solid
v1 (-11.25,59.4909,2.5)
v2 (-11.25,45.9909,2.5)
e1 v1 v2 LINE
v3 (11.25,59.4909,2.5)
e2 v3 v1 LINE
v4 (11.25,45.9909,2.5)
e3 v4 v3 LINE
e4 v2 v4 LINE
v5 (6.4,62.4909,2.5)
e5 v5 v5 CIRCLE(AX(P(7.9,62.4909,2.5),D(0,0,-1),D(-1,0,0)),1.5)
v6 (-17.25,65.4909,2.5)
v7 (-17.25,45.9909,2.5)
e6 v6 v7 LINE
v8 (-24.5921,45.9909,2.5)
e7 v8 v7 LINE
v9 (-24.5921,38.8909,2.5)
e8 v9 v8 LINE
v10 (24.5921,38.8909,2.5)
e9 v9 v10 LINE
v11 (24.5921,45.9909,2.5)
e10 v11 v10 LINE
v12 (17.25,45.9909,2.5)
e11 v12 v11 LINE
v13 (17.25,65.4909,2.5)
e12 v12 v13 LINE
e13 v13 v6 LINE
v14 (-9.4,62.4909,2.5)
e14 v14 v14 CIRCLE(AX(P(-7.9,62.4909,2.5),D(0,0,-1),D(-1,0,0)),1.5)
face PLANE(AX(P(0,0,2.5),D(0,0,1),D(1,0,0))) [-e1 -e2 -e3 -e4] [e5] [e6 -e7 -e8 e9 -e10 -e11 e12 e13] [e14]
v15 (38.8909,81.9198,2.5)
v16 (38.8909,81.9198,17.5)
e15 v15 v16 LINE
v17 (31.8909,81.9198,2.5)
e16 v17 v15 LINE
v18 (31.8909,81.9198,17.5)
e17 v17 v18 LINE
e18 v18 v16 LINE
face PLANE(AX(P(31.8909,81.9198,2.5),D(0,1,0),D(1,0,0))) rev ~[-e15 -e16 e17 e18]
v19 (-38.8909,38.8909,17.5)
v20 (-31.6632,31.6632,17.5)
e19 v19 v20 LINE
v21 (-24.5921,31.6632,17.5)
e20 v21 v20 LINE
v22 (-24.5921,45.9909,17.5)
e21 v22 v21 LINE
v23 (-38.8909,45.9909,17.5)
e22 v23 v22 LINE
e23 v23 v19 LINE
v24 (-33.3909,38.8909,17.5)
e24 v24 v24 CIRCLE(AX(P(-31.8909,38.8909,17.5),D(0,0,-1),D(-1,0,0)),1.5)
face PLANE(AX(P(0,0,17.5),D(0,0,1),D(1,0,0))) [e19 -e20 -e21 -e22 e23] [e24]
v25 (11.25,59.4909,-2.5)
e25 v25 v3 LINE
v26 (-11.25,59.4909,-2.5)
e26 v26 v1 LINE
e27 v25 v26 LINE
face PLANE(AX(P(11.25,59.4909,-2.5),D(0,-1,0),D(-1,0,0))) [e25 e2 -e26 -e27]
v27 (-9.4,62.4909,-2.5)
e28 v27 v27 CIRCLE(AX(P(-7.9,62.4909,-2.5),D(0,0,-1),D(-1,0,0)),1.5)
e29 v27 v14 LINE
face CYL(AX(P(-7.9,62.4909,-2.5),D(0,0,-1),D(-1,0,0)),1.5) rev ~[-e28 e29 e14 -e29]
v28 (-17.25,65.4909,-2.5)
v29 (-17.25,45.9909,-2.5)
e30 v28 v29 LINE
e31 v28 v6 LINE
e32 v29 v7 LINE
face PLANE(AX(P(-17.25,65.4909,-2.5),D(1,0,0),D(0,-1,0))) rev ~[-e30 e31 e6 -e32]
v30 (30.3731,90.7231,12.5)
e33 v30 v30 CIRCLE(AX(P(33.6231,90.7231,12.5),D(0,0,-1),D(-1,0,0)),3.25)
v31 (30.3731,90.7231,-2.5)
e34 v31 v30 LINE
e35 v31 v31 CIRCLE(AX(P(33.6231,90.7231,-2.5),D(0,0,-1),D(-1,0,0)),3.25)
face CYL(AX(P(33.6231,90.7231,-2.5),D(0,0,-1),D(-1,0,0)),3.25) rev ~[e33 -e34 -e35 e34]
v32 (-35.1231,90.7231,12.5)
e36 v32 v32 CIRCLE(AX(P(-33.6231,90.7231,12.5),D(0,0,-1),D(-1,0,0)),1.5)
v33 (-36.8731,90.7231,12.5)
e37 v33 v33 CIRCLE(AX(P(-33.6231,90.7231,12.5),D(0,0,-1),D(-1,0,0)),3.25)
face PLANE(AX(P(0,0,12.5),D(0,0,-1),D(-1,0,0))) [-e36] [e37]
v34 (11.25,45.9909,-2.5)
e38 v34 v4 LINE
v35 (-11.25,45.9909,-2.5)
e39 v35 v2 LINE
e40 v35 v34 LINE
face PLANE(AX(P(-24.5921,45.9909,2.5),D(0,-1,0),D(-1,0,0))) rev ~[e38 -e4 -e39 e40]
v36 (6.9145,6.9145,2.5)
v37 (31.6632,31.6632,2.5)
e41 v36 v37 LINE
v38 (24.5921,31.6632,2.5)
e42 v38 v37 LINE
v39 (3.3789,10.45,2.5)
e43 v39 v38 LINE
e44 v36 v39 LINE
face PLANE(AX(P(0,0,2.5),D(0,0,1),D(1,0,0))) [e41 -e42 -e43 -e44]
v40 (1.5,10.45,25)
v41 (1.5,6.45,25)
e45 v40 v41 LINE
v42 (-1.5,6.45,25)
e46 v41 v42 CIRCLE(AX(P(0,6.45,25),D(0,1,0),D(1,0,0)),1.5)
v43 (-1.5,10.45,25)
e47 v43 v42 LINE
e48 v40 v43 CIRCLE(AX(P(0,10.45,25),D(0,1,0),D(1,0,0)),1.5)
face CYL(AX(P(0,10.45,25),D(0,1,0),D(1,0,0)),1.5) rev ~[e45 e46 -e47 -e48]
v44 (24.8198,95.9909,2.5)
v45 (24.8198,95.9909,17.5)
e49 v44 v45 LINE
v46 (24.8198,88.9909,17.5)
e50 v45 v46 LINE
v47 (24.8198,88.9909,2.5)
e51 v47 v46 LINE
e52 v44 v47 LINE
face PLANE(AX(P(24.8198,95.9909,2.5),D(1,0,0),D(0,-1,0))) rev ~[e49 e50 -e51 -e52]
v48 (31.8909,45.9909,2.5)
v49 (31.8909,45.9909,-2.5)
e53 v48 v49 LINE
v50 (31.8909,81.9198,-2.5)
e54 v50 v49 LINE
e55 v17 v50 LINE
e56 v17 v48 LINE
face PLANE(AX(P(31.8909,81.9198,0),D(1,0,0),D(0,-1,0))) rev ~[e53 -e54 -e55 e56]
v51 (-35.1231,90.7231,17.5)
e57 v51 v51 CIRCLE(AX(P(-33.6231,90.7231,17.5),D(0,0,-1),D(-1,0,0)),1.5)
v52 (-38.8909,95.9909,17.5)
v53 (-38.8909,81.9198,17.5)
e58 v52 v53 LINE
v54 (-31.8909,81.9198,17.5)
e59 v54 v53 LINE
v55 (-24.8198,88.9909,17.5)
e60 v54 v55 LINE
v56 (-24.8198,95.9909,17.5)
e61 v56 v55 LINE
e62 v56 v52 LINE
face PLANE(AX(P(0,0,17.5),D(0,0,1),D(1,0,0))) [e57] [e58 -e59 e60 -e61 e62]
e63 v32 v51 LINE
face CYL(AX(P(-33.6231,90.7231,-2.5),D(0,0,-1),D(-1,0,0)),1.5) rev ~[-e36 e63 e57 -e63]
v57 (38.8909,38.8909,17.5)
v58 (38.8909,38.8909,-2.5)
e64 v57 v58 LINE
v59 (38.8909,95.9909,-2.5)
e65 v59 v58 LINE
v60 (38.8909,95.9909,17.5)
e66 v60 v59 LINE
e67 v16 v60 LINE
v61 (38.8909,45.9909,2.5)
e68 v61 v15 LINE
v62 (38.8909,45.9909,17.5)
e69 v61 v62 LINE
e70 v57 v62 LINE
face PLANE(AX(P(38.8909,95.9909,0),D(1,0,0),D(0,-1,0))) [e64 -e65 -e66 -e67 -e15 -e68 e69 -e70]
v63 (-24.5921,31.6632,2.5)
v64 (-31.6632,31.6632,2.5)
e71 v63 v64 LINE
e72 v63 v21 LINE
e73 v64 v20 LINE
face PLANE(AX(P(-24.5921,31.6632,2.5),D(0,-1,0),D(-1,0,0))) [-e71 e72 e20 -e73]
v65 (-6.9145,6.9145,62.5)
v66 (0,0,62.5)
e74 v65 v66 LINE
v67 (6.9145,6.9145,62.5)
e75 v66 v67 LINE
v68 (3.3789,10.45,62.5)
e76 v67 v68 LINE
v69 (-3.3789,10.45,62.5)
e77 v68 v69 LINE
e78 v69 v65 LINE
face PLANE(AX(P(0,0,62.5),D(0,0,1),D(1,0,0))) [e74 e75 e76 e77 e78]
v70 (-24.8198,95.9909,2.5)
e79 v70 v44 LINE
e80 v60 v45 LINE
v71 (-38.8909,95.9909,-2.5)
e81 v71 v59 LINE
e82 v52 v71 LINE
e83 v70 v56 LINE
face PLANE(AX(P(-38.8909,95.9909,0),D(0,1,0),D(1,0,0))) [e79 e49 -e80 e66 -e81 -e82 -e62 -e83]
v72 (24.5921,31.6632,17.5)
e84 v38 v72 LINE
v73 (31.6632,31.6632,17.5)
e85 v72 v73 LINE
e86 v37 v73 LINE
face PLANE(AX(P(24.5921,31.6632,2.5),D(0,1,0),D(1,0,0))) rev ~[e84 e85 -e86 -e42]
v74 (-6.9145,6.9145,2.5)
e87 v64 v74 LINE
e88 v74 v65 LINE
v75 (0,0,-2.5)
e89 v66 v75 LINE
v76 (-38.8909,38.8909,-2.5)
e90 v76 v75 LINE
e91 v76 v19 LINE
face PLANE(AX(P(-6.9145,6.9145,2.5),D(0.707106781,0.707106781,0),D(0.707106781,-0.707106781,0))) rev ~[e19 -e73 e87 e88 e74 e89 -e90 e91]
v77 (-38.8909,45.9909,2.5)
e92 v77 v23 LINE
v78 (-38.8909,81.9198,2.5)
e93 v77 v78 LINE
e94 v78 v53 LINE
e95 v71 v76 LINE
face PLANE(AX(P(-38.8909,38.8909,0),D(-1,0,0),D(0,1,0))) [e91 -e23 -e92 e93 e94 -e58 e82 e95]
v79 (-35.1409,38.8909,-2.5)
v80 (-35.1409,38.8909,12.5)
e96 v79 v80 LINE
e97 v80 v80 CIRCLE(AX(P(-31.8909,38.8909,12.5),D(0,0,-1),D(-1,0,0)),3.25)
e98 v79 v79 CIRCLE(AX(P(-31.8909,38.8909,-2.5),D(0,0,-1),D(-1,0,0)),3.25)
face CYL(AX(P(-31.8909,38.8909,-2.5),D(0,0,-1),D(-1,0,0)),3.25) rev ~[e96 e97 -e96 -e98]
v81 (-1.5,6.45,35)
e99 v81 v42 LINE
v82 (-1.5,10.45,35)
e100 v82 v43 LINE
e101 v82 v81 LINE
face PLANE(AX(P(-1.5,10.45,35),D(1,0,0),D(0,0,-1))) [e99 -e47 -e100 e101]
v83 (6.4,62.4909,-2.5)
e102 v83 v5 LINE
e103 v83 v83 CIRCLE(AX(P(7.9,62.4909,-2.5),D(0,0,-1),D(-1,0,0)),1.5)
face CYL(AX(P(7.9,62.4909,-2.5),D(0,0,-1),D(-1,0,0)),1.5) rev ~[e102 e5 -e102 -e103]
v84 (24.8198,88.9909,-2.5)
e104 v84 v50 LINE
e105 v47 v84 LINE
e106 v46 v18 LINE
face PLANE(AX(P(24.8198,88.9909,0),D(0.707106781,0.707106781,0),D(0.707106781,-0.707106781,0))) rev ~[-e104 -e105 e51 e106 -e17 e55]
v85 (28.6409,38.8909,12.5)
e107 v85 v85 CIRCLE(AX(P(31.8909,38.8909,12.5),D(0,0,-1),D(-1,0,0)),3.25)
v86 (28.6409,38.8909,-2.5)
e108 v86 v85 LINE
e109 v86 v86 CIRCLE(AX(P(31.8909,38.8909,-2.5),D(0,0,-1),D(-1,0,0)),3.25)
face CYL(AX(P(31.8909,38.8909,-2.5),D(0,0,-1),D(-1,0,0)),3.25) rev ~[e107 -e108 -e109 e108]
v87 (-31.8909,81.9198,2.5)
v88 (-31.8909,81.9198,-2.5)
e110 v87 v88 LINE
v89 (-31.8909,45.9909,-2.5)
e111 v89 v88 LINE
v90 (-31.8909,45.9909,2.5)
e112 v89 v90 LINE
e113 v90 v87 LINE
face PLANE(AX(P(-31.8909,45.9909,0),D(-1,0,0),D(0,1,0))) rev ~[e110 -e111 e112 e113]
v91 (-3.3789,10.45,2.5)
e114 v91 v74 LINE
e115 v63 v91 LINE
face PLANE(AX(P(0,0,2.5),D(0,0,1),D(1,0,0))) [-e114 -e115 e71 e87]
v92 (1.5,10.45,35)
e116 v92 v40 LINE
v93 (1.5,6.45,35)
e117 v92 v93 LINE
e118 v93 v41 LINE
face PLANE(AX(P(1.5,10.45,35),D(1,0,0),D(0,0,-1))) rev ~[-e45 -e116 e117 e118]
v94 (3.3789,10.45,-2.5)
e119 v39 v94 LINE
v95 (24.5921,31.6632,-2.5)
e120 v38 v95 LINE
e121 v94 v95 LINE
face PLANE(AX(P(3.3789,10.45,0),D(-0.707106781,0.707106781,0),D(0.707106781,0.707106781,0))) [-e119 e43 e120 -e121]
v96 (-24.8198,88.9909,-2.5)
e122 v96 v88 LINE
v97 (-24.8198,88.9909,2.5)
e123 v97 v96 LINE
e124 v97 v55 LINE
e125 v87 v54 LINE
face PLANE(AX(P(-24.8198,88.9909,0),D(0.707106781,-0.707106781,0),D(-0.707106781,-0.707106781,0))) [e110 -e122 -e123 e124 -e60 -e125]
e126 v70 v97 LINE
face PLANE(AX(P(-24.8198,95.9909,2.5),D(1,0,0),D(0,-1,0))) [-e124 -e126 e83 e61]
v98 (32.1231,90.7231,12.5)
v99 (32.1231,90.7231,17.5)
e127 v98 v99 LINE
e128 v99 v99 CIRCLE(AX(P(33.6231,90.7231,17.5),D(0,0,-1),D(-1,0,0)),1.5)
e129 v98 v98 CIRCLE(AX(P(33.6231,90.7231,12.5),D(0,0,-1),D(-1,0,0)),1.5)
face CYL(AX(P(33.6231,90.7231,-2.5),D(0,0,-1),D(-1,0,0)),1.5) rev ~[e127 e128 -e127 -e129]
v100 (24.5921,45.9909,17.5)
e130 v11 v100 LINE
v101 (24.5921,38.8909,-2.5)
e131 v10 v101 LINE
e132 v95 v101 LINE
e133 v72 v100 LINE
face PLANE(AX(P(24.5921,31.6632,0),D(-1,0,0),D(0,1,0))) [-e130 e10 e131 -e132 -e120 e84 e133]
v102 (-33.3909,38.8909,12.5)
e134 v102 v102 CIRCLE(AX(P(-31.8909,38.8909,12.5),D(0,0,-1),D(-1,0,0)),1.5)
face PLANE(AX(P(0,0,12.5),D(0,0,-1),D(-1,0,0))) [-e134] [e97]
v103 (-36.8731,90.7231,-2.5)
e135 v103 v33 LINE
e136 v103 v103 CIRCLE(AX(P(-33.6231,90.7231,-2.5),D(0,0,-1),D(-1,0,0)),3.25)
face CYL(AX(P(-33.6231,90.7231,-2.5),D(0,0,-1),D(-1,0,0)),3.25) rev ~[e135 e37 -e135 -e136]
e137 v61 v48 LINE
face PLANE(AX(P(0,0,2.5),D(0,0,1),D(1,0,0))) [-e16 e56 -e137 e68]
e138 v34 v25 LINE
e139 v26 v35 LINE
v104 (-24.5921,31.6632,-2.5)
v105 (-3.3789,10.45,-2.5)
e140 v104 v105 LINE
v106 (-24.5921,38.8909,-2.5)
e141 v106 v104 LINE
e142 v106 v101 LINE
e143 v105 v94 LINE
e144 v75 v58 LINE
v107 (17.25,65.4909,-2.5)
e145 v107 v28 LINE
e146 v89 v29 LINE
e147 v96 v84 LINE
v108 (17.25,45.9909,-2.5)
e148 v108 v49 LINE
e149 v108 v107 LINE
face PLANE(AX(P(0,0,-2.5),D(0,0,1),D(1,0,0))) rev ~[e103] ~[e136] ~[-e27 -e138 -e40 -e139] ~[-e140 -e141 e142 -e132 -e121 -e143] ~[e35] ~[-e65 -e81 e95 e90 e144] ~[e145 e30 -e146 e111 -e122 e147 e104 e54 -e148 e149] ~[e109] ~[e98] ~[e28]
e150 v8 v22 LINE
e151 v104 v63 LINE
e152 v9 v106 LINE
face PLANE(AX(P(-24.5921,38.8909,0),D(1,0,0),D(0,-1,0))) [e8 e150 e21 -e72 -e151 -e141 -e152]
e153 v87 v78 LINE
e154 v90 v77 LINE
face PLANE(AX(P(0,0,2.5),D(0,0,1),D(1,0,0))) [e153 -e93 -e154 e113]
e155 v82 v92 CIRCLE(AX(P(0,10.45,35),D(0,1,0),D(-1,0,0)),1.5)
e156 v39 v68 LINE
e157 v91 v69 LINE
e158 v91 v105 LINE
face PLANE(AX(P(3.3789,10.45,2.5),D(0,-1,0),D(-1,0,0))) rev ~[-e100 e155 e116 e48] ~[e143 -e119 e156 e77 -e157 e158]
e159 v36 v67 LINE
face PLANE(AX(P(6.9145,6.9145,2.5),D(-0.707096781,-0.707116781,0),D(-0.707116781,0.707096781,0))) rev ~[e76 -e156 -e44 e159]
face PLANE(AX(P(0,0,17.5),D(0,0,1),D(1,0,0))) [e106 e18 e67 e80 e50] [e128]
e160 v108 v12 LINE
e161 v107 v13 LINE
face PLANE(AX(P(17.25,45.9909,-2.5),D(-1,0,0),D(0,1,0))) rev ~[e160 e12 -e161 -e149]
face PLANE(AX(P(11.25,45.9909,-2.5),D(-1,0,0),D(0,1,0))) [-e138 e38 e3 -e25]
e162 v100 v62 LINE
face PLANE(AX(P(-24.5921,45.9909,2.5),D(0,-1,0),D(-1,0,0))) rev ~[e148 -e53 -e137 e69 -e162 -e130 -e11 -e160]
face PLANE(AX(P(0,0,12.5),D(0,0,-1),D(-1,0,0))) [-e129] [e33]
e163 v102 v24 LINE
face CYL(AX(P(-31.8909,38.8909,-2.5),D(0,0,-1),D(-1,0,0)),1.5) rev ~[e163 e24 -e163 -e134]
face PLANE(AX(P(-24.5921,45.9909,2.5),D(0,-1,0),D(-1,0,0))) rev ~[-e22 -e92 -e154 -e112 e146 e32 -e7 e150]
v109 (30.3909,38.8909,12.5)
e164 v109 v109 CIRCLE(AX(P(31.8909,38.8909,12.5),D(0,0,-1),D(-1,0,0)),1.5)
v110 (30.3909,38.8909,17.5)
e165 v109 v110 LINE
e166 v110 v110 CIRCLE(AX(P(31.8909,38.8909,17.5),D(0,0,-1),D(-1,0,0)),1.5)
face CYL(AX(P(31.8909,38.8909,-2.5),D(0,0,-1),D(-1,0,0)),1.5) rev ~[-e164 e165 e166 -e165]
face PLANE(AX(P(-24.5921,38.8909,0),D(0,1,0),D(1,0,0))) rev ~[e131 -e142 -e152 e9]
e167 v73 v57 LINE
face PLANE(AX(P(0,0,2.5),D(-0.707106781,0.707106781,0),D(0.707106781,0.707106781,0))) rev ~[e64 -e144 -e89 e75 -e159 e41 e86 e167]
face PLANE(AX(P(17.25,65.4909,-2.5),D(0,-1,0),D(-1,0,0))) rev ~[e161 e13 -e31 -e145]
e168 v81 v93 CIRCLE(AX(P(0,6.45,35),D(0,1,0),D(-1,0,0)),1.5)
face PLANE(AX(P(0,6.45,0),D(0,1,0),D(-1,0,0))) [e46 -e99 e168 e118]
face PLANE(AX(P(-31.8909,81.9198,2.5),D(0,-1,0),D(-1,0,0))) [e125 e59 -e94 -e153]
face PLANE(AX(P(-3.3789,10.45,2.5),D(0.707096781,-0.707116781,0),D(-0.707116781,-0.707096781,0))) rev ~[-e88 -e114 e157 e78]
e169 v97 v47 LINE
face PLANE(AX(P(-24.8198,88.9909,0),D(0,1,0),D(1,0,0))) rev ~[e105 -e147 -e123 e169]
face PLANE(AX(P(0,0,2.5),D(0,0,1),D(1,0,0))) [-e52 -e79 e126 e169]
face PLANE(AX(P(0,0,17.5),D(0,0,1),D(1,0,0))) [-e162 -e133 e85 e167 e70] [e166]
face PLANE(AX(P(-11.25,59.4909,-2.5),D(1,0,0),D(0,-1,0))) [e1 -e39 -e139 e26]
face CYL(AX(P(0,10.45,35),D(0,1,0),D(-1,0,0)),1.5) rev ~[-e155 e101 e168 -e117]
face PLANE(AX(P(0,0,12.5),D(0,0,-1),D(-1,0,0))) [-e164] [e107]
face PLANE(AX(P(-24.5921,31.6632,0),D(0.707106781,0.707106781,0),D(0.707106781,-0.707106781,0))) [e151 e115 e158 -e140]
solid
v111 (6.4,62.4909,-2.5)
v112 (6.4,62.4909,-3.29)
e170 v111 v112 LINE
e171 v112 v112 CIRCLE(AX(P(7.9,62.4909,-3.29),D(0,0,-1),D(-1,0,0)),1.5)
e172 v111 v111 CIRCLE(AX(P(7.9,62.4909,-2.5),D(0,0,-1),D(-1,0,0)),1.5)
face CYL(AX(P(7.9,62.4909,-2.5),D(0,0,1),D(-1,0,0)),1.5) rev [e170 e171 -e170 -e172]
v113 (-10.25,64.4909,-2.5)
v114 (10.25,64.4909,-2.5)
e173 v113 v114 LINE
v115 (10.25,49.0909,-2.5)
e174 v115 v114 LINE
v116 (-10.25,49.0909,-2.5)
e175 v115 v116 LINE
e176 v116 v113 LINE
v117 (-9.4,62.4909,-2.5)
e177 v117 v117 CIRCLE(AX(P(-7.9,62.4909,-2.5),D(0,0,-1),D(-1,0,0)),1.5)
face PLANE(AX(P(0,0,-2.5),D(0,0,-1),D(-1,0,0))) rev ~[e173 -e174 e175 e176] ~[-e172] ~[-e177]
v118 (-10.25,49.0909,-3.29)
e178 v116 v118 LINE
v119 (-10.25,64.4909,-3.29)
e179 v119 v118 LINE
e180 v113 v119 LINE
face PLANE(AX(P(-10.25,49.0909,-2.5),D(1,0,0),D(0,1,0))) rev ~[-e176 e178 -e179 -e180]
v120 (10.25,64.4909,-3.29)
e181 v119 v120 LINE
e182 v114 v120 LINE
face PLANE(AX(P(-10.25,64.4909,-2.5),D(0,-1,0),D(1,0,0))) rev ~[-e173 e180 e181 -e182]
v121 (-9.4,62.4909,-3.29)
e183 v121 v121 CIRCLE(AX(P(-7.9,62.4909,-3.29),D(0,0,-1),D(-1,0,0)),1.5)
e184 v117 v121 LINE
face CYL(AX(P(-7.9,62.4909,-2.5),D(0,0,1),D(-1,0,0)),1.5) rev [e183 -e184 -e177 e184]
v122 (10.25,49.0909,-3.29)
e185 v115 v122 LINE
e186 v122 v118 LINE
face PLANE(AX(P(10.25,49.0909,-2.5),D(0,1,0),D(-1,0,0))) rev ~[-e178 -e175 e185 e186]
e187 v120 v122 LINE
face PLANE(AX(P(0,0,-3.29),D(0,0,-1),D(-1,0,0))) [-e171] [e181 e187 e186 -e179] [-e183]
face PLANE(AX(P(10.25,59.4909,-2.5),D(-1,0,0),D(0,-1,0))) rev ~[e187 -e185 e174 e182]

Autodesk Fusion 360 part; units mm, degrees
sketch "スケッチ1" plane through (0, 0, 0) normal (0, 0, 1) x (1, 0, 0)
  line L0 (-38.8909, 38.8909) -> (0, 0)
  line L1 (0, 0) -> (38.8909, 38.8909)
  line L2 (38.8909, 38.8909) -> (-38.8909, 38.8909) construction
  line L3 (0, 38.8909) -> (0, 0) construction
  line L4 (-24.5921, 31.6632) -> (-3.3789, 10.45)
  line L5 (-3.3789, 10.45) -> (3.3789, 10.45)
  line L6 (3.3789, 10.45) -> (24.5921, 31.6632)
  line L7 (24.5921, 31.6632) -> (24.5921, 38.8909)
  line L8 (-24.5921, 38.8909) -> (-24.5921, 31.6632)
  line L9 (-24.5921, 38.8909) -> (24.5921, 38.8909)
  line L10 (-38.8909, 38.8909) -> (-38.8909, 45.9909)
  line L11 (-31.8909, 45.9909) -> (31.8909, 45.9909)
  line L12 (38.8909, 45.9909) -> (38.8909, 38.8909)
  line L13 (31.8909, 45.9909) -> (-31.8909, 45.9909)
  line L14 (-38.8909, 45.9909) -> (-38.8909, 95.9909)
  line L15 (-38.8909, 95.9909) -> (38.8909, 95.9909)
  line L16 (38.8909, 95.9909) -> (38.8909, 45.9909)
  line L17 (38.8909, 45.9909) -> (-38.8909, 95.9909) construction
  line L18 (-38.8909, 45.9909) -> (38.8909, 95.9909) construction
  line L19 (-31.8909, 45.9909) -> (-31.8909, 81.9198)
  line L20 (-24.8198, 88.9909) -> (24.8198, 88.9909)
  line L21 (31.8909, 81.9198) -> (31.8909, 45.9909)
  line L22 (-24.8198, 88.9909) -> (-31.8909, 81.9198)
  line L23 (24.8198, 88.9909) -> (31.8909, 81.9198)
  point P0 (0, 70.9909)
  point P1 (0, 70.9909)
  dimension "d1" = 55
  dimension "d3" = 55
  dimension "d4" = 5
  dimension "d5" = 5
  dimension "d6" = 30
  dimension "d7" = 30
  dimension "d8" = 10.45
  dimension "d9" = 7.1
  dimension "d10" = 50
  dimension "d11" = 7
  dimension "d13" = 45
  dimension "d14" = 45
  dimension "d15" = 10
  dimension "d16" = 10
  dimension "d17" = 7
  dimension "d18" = 7
  dimension "d19" = 57.1
  dimension "d20" = 7.1
extrude "押し出し1" add sketch "スケッチ1" along normal mid plane 5 makes body 1
sketch "スケッチ2" plane through (0, 0, 2.5) normal (0, 0, 1) x (1, 0, 0)
  line L0 (-31.8909, 81.9198) -> (-24.8198, 88.9909)
  line L1 (-24.8198, 88.9909) -> (24.8198, 88.9909)
  line L2 (24.8198, 88.9909) -> (31.8909, 81.9198)
  line L3 (31.8909, 81.9198) -> (31.8909, 45.9909)
  line L4 (31.8909, 45.9909) -> (-31.8909, 45.9909)
  line L5 (-31.8909, 45.9909) -> (-31.8909, 81.9198)
  line L6 (-3.3789, 10.45) -> (-24.5921, 31.6632)
  line L7 (-24.5921, 31.6632) -> (-24.5921, 38.8909)
  line L8 (-24.5921, 38.8909) -> (24.5921, 38.8909)
  line L9 (24.5921, 38.8909) -> (24.5921, 31.6632)
  line L10 (24.5921, 31.6632) -> (3.3789, 10.45)
  line L11 (3.3789, 10.45) -> (-3.3789, 10.45)
  line L12 (-38.8909, 38.8909) -> (0, 0)
  line L13 (0, 0) -> (38.8909, 38.8909)
  line L14 (38.8909, 38.8909) -> (38.8909, 95.9909)
  line L15 (38.8909, 95.9909) -> (-38.8909, 95.9909)
  line L16 (-38.8909, 95.9909) -> (-38.8909, 38.8909)
  line L17 (-24.8198, 95.9909) -> (-24.8198, 88.9909)
  line L18 (-24.8198, 88.9909) -> (-31.8909, 81.9198)
  line L19 (-31.8909, 81.9198) -> (-38.8909, 81.9198)
  line L20 (-38.8909, 81.9198) -> (-38.8909, 95.9909)
  line L21 (-38.8909, 95.9909) -> (-24.8198, 95.9909)
  line L22 (24.8198, 95.9909) -> (24.8198, 88.9909)
  line L23 (24.8198, 88.9909) -> (31.8909, 81.9198)
  line L24 (31.8909, 81.9198) -> (38.8909, 81.9198)
  line L25 (38.8909, 81.9198) -> (38.8909, 95.9909)
  line L26 (38.8909, 95.9909) -> (24.8198, 95.9909)
  line L27 (-24.5921, 45.9909) -> (-24.5921, 31.6632)
  line L28 (-24.5921, 31.6632) -> (-31.6632, 31.6632)
  line L29 (-31.6632, 31.6632) -> (-38.8909, 38.8909)
  line L30 (-38.8909, 38.8909) -> (-38.8909, 45.9909)
  line L31 (-38.8909, 45.9909) -> (-24.5921, 45.9909)
  line L32 (24.5921, 45.9909) -> (24.5921, 31.6632)
  line L33 (24.5921, 31.6632) -> (31.6632, 31.6632)
  line L34 (31.6632, 31.6632) -> (38.8909, 38.8909)
  line L35 (38.8909, 38.8909) -> (38.8909, 45.9909)
  line L36 (38.8909, 45.9909) -> (24.5921, 45.9909)
  line L37 (-3.3789, 10.45) -> (-6.9145, 6.9145)
  line L38 (-6.9145, 6.9145) -> (0, 0)
  line L39 (0, 0) -> (6.9145, 6.9145)
  line L40 (6.9145, 6.9145) -> (3.3789, 10.45)
  line L41 (3.3789, 10.45) -> (-3.3789, 10.45)
extrude "押し出し2" add sketch "スケッチ2" along normal blind 15 contours L0 L15 L16 L17 L18 L19 L20 L21 | L4 L7 L12 L16 L27 L28 L29 L30 L31 | L2 L14 L15 L22 L23 L24 L25 L26 | L4 L9 L13 L14 L32 L33 L34 L35 L36 bodies 1
extrude "押し出し3" add sketch "スケッチ2" along normal blind 60 contours L11 L12 L13 L37 L38 L39 L40 L41 bodies 1
sketch "スケッチ3" plane through (0, 0, -2.5) normal (0, 0, -1) x (-1, 0, 0)
  line L0 (24.8198, 88.9909) -> (31.8909, 81.9198)
  line L1 (31.8909, 81.9198) -> (31.8909, 45.9909)
  line L2 (31.8909, 45.9909) -> (-31.8909, 45.9909)
  line L3 (-31.8909, 45.9909) -> (-31.8909, 81.9198)
  line L4 (-31.8909, 81.9198) -> (-24.8198, 88.9909)
  line L5 (-24.8198, 88.9909) -> (24.8198, 88.9909)
  line L6 (24.5921, 31.6632) -> (3.3789, 10.45)
  line L7 (3.3789, 10.45) -> (-3.3789, 10.45)
  line L8 (-3.3789, 10.45) -> (-24.5921, 31.6632)
  line L9 (-24.5921, 31.6632) -> (-24.5921, 38.8909)
  line L10 (-24.5921, 38.8909) -> (24.5921, 38.8909)
  line L11 (24.5921, 38.8909) -> (24.5921, 31.6632)
  line L12 (0, 0) -> (38.8909, 38.8909)
  line L13 (38.8909, 38.8909) -> (38.8909, 95.9909)
  line L14 (38.8909, 95.9909) -> (-38.8909, 95.9909)
  line L15 (-38.8909, 95.9909) -> (-38.8909, 38.8909)
  line L16 (-38.8909, 38.8909) -> (0, 0)
  line L17 (-38.8909, 95.9909) -> (-28.3553, 85.4553) construction
  line L18 (38.8909, 95.9909) -> (28.3553, 85.4553) construction
  circle A0 centre (-33.6231, 90.7231) radius 3.25
  circle A1 centre (33.6231, 90.7231) radius 3.25
  circle A2 centre (-31.8909, 38.8909) radius 3.25
  circle A3 centre (31.8909, 38.8909) radius 3.25
  line L19 (-24.5921, 38.8909) -> (-38.8909, 38.8909) construction
  line L20 (-31.8909, 45.9909) -> (-31.8909, 31.8909) construction
  line L21 (24.5921, 38.8909) -> (38.8909, 38.8909) construction
  line L22 (31.8909, 45.9909) -> (31.8909, 31.8909) construction
  circle A4 centre (-31.8909, 38.8909) radius 1.5
  circle A5 centre (31.8909, 38.8909) radius 1.5
  circle A6 centre (33.6231, 90.7231) radius 1.5
  circle A7 centre (-33.6231, 90.7231) radius 1.5
  dimension "d27" = 6.5
  dimension "d28" = 6.5
  dimension "d29" = 6.5
  dimension "d30" = 6.5
  dimension "d31" = 3
  dimension "d32" = 3
  dimension "d33" = 3
  dimension "d34" = 3
extrude "押し出し4" cut sketch "スケッチ3" against normal blind 25 contours A4 | A5 | A6 | A7 bodies 1
extrude "押し出し5" cut sketch "スケッチ3" against normal blind 15 contours A0 | A1 | A2 | A3 bodies 1
sketch "スケッチ4" plane through (0, 10.45, 0) normal (0, 1, 0) x (-1, 0, 0)
  line L0 (3.3789, -2.5) -> (3.3789, 2.5)
  line L1 (3.3789, 2.5) -> (3.3789, 62.5)
  line L2 (3.3789, 62.5) -> (-3.3789, 62.5)
  line L3 (-3.3789, 62.5) -> (-3.3789, 2.5)
  line L4 (-3.3789, 2.5) -> (-3.3789, -2.5)
  line L5 (-3.3789, -2.5) -> (3.3789, -2.5)
  arc A0 (1.5, 35) -> (-1.5, 35) centre (0, 35) ccw
  arc A1 (-1.5, 25) -> (1.5, 25) centre (0, 25) ccw
  line L6 (0, 35) -> (0, 25) construction
  line L7 (-1.5, 35) -> (-1.5, 25)
  line L8 (1.5, 35) -> (1.5, 25)
  line L9 (0, 25) -> (0, 0) construction
  dimension "d39" = 1.5
  dimension "d40" = 1.5
  dimension "d41" = 25
  dimension "d42" = 35
extrude "押し出し6" cut sketch "スケッチ4" against normal blind 4 contours A0 A1 L7 L8 bodies 1
sketch "スケッチ5" plane through (0, 0, -2.5) normal (0, 0, -1) x (-1, 0, 0)
  line L0 (24.8198, 88.9909) -> (31.8909, 81.9198)
  line L1 (31.8909, 81.9198) -> (31.8909, 45.9909)
  line L2 (31.8909, 45.9909) -> (-31.8909, 45.9909)
  line L3 (-31.8909, 45.9909) -> (-31.8909, 81.9198)
  line L4 (-31.8909, 81.9198) -> (-24.8198, 88.9909)
  line L5 (-24.8198, 88.9909) -> (24.8198, 88.9909)
  line L6 (24.5921, 31.6632) -> (3.3789, 10.45)
  line L7 (3.3789, 10.45) -> (-3.3789, 10.45)
  line L8 (-3.3789, 10.45) -> (-24.5921, 31.6632)
  line L9 (-24.5921, 31.6632) -> (-24.5921, 38.8909)
  line L10 (-24.5921, 38.8909) -> (24.5921, 38.8909)
  line L11 (24.5921, 38.8909) -> (24.5921, 31.6632)
  line L12 (0, 0) -> (38.8909, 38.8909)
  line L13 (38.8909, 38.8909) -> (38.8909, 95.9909)
  line L14 (38.8909, 95.9909) -> (-38.8909, 95.9909)
  line L15 (-38.8909, 95.9909) -> (-38.8909, 38.8909)
  line L16 (-38.8909, 38.8909) -> (0, 0)
  circle A0 centre (31.8909, 38.8909) radius 3.25
  circle A1 centre (-33.6231, 90.7231) radius 3.25
  circle A2 centre (33.6231, 90.7231) radius 3.25
  circle A3 centre (-31.8909, 38.8909) radius 3.25
  line L17 (-11.25, 45.9909) -> (-11.25, 59.4909)
  line L18 (-11.25, 59.4909) -> (11.25, 59.4909)
  line L19 (11.25, 59.4909) -> (11.25, 45.9909)
  line L20 (-17.25, 45.9909) -> (-17.25, 65.4909)
  line L21 (-17.25, 65.4909) -> (17.25, 65.4909)
  line L22 (17.25, 65.4909) -> (17.25, 45.9909)
  line L23 (0, 0) -> (0, 59.4909) construction
  circle A4 centre (-7.9, 62.4909) radius 1.5
  circle A5 centre (7.9, 62.4909) radius 1.5
  line L24 (-7.9, 62.4909) -> (7.9, 62.4909) construction
  line L25 (0, 59.4909) -> (0, 62.4909) construction
  dimension "d45" = 6
  dimension "d46" = 6
  dimension "d47" = 6
  dimension "d48" = 22.5
  dimension "d49" = 13.5
  dimension "d50" = 15.8
  dimension "d51" = 3
  dimension "d52" = 3
  dimension "d53" = 3
extrude "押し出し7" add sketch "スケッチ5" against normal blind 5 contours L2 L17 L18 L19 L20 L21 L22 bodies 1
sketch "スケッチ6" plane through (0, 0, -2.5) normal (0, 0, -1) x (-1, 0, 0)
  line L0 (11.25, 45.9909) -> (-11.25, 45.9909)
  line L1 (-11.25, 45.9909) -> (-11.25, 59.4909)
  line L2 (-11.25, 59.4909) -> (11.25, 59.4909)
  line L3 (11.25, 59.4909) -> (11.25, 45.9909)
  circle A0 centre (7.9, 62.4909) radius 1.5
  circle A1 centre (-7.9, 62.4909) radius 1.5
  line L4 (17.25, 45.9909) -> (17.25, 65.4909)
  line L5 (17.25, 65.4909) -> (-17.25, 65.4909)
  line L6 (-17.25, 65.4909) -> (-17.25, 45.9909)
  line L7 (-17.25, 45.9909) -> (-31.8909, 45.9909)
  line L8 (-31.8909, 45.9909) -> (-31.8909, 81.9198)
  line L9 (-31.8909, 81.9198) -> (-24.8198, 88.9909)
  line L10 (-24.8198, 88.9909) -> (24.8198, 88.9909)
  line L11 (24.8198, 88.9909) -> (31.8909, 81.9198)
  line L12 (31.8909, 81.9198) -> (31.8909, 45.9909)
  line L13 (31.8909, 45.9909) -> (17.25, 45.9909)
  line L14 (24.5921, 31.6632) -> (3.3789, 10.45)
  line L15 (3.3789, 10.45) -> (-3.3789, 10.45)
  line L16 (-3.3789, 10.45) -> (-24.5921, 31.6632)
  line L17 (-24.5921, 31.6632) -> (-24.5921, 38.8909)
  line L18 (-24.5921, 38.8909) -> (24.5921, 38.8909)
  line L19 (24.5921, 38.8909) -> (24.5921, 31.6632)
  line L20 (0, 0) -> (38.8909, 38.8909)
  line L21 (38.8909, 38.8909) -> (38.8909, 95.9909)
  line L22 (38.8909, 95.9909) -> (-38.8909, 95.9909)
  line L23 (-38.8909, 95.9909) -> (-38.8909, 38.8909)
  line L24 (-38.8909, 38.8909) -> (0, 0)
  circle A2 centre (31.8909, 38.8909) radius 3.25
  circle A3 centre (-33.6231, 90.7231) radius 3.25
  circle A4 centre (33.6231, 90.7231) radius 3.25
  circle A5 centre (-31.8909, 38.8909) radius 3.25
  line L25 (10.25, 64.4909) -> (-10.25, 64.4909)
  line L26 (-10.25, 64.4909) -> (-10.25, 49.0909)
  line L27 (-10.25, 49.0909) -> (10.25, 49.0909)
  line L28 (10.25, 49.0909) -> (10.25, 64.4909)
  line L29 (10.25, 64.4909) -> (-10.25, 49.0909) construction
  line L30 (-10.25, 64.4909) -> (10.25, 49.0909) construction
  line L31 (0, 56.7909) -> (0, 0) construction
  point P0 (0, 56.7909)
  dimension "d56" = 20.5
  dimension "d57" = 15.4
  dimension "d58" = 2
extrude "押し出し8" add sketch "スケッチ6" along normal blind 0.79 separate body contours L2 L26 L27 L28 | L2 L25 L26 L28 makes body 2
